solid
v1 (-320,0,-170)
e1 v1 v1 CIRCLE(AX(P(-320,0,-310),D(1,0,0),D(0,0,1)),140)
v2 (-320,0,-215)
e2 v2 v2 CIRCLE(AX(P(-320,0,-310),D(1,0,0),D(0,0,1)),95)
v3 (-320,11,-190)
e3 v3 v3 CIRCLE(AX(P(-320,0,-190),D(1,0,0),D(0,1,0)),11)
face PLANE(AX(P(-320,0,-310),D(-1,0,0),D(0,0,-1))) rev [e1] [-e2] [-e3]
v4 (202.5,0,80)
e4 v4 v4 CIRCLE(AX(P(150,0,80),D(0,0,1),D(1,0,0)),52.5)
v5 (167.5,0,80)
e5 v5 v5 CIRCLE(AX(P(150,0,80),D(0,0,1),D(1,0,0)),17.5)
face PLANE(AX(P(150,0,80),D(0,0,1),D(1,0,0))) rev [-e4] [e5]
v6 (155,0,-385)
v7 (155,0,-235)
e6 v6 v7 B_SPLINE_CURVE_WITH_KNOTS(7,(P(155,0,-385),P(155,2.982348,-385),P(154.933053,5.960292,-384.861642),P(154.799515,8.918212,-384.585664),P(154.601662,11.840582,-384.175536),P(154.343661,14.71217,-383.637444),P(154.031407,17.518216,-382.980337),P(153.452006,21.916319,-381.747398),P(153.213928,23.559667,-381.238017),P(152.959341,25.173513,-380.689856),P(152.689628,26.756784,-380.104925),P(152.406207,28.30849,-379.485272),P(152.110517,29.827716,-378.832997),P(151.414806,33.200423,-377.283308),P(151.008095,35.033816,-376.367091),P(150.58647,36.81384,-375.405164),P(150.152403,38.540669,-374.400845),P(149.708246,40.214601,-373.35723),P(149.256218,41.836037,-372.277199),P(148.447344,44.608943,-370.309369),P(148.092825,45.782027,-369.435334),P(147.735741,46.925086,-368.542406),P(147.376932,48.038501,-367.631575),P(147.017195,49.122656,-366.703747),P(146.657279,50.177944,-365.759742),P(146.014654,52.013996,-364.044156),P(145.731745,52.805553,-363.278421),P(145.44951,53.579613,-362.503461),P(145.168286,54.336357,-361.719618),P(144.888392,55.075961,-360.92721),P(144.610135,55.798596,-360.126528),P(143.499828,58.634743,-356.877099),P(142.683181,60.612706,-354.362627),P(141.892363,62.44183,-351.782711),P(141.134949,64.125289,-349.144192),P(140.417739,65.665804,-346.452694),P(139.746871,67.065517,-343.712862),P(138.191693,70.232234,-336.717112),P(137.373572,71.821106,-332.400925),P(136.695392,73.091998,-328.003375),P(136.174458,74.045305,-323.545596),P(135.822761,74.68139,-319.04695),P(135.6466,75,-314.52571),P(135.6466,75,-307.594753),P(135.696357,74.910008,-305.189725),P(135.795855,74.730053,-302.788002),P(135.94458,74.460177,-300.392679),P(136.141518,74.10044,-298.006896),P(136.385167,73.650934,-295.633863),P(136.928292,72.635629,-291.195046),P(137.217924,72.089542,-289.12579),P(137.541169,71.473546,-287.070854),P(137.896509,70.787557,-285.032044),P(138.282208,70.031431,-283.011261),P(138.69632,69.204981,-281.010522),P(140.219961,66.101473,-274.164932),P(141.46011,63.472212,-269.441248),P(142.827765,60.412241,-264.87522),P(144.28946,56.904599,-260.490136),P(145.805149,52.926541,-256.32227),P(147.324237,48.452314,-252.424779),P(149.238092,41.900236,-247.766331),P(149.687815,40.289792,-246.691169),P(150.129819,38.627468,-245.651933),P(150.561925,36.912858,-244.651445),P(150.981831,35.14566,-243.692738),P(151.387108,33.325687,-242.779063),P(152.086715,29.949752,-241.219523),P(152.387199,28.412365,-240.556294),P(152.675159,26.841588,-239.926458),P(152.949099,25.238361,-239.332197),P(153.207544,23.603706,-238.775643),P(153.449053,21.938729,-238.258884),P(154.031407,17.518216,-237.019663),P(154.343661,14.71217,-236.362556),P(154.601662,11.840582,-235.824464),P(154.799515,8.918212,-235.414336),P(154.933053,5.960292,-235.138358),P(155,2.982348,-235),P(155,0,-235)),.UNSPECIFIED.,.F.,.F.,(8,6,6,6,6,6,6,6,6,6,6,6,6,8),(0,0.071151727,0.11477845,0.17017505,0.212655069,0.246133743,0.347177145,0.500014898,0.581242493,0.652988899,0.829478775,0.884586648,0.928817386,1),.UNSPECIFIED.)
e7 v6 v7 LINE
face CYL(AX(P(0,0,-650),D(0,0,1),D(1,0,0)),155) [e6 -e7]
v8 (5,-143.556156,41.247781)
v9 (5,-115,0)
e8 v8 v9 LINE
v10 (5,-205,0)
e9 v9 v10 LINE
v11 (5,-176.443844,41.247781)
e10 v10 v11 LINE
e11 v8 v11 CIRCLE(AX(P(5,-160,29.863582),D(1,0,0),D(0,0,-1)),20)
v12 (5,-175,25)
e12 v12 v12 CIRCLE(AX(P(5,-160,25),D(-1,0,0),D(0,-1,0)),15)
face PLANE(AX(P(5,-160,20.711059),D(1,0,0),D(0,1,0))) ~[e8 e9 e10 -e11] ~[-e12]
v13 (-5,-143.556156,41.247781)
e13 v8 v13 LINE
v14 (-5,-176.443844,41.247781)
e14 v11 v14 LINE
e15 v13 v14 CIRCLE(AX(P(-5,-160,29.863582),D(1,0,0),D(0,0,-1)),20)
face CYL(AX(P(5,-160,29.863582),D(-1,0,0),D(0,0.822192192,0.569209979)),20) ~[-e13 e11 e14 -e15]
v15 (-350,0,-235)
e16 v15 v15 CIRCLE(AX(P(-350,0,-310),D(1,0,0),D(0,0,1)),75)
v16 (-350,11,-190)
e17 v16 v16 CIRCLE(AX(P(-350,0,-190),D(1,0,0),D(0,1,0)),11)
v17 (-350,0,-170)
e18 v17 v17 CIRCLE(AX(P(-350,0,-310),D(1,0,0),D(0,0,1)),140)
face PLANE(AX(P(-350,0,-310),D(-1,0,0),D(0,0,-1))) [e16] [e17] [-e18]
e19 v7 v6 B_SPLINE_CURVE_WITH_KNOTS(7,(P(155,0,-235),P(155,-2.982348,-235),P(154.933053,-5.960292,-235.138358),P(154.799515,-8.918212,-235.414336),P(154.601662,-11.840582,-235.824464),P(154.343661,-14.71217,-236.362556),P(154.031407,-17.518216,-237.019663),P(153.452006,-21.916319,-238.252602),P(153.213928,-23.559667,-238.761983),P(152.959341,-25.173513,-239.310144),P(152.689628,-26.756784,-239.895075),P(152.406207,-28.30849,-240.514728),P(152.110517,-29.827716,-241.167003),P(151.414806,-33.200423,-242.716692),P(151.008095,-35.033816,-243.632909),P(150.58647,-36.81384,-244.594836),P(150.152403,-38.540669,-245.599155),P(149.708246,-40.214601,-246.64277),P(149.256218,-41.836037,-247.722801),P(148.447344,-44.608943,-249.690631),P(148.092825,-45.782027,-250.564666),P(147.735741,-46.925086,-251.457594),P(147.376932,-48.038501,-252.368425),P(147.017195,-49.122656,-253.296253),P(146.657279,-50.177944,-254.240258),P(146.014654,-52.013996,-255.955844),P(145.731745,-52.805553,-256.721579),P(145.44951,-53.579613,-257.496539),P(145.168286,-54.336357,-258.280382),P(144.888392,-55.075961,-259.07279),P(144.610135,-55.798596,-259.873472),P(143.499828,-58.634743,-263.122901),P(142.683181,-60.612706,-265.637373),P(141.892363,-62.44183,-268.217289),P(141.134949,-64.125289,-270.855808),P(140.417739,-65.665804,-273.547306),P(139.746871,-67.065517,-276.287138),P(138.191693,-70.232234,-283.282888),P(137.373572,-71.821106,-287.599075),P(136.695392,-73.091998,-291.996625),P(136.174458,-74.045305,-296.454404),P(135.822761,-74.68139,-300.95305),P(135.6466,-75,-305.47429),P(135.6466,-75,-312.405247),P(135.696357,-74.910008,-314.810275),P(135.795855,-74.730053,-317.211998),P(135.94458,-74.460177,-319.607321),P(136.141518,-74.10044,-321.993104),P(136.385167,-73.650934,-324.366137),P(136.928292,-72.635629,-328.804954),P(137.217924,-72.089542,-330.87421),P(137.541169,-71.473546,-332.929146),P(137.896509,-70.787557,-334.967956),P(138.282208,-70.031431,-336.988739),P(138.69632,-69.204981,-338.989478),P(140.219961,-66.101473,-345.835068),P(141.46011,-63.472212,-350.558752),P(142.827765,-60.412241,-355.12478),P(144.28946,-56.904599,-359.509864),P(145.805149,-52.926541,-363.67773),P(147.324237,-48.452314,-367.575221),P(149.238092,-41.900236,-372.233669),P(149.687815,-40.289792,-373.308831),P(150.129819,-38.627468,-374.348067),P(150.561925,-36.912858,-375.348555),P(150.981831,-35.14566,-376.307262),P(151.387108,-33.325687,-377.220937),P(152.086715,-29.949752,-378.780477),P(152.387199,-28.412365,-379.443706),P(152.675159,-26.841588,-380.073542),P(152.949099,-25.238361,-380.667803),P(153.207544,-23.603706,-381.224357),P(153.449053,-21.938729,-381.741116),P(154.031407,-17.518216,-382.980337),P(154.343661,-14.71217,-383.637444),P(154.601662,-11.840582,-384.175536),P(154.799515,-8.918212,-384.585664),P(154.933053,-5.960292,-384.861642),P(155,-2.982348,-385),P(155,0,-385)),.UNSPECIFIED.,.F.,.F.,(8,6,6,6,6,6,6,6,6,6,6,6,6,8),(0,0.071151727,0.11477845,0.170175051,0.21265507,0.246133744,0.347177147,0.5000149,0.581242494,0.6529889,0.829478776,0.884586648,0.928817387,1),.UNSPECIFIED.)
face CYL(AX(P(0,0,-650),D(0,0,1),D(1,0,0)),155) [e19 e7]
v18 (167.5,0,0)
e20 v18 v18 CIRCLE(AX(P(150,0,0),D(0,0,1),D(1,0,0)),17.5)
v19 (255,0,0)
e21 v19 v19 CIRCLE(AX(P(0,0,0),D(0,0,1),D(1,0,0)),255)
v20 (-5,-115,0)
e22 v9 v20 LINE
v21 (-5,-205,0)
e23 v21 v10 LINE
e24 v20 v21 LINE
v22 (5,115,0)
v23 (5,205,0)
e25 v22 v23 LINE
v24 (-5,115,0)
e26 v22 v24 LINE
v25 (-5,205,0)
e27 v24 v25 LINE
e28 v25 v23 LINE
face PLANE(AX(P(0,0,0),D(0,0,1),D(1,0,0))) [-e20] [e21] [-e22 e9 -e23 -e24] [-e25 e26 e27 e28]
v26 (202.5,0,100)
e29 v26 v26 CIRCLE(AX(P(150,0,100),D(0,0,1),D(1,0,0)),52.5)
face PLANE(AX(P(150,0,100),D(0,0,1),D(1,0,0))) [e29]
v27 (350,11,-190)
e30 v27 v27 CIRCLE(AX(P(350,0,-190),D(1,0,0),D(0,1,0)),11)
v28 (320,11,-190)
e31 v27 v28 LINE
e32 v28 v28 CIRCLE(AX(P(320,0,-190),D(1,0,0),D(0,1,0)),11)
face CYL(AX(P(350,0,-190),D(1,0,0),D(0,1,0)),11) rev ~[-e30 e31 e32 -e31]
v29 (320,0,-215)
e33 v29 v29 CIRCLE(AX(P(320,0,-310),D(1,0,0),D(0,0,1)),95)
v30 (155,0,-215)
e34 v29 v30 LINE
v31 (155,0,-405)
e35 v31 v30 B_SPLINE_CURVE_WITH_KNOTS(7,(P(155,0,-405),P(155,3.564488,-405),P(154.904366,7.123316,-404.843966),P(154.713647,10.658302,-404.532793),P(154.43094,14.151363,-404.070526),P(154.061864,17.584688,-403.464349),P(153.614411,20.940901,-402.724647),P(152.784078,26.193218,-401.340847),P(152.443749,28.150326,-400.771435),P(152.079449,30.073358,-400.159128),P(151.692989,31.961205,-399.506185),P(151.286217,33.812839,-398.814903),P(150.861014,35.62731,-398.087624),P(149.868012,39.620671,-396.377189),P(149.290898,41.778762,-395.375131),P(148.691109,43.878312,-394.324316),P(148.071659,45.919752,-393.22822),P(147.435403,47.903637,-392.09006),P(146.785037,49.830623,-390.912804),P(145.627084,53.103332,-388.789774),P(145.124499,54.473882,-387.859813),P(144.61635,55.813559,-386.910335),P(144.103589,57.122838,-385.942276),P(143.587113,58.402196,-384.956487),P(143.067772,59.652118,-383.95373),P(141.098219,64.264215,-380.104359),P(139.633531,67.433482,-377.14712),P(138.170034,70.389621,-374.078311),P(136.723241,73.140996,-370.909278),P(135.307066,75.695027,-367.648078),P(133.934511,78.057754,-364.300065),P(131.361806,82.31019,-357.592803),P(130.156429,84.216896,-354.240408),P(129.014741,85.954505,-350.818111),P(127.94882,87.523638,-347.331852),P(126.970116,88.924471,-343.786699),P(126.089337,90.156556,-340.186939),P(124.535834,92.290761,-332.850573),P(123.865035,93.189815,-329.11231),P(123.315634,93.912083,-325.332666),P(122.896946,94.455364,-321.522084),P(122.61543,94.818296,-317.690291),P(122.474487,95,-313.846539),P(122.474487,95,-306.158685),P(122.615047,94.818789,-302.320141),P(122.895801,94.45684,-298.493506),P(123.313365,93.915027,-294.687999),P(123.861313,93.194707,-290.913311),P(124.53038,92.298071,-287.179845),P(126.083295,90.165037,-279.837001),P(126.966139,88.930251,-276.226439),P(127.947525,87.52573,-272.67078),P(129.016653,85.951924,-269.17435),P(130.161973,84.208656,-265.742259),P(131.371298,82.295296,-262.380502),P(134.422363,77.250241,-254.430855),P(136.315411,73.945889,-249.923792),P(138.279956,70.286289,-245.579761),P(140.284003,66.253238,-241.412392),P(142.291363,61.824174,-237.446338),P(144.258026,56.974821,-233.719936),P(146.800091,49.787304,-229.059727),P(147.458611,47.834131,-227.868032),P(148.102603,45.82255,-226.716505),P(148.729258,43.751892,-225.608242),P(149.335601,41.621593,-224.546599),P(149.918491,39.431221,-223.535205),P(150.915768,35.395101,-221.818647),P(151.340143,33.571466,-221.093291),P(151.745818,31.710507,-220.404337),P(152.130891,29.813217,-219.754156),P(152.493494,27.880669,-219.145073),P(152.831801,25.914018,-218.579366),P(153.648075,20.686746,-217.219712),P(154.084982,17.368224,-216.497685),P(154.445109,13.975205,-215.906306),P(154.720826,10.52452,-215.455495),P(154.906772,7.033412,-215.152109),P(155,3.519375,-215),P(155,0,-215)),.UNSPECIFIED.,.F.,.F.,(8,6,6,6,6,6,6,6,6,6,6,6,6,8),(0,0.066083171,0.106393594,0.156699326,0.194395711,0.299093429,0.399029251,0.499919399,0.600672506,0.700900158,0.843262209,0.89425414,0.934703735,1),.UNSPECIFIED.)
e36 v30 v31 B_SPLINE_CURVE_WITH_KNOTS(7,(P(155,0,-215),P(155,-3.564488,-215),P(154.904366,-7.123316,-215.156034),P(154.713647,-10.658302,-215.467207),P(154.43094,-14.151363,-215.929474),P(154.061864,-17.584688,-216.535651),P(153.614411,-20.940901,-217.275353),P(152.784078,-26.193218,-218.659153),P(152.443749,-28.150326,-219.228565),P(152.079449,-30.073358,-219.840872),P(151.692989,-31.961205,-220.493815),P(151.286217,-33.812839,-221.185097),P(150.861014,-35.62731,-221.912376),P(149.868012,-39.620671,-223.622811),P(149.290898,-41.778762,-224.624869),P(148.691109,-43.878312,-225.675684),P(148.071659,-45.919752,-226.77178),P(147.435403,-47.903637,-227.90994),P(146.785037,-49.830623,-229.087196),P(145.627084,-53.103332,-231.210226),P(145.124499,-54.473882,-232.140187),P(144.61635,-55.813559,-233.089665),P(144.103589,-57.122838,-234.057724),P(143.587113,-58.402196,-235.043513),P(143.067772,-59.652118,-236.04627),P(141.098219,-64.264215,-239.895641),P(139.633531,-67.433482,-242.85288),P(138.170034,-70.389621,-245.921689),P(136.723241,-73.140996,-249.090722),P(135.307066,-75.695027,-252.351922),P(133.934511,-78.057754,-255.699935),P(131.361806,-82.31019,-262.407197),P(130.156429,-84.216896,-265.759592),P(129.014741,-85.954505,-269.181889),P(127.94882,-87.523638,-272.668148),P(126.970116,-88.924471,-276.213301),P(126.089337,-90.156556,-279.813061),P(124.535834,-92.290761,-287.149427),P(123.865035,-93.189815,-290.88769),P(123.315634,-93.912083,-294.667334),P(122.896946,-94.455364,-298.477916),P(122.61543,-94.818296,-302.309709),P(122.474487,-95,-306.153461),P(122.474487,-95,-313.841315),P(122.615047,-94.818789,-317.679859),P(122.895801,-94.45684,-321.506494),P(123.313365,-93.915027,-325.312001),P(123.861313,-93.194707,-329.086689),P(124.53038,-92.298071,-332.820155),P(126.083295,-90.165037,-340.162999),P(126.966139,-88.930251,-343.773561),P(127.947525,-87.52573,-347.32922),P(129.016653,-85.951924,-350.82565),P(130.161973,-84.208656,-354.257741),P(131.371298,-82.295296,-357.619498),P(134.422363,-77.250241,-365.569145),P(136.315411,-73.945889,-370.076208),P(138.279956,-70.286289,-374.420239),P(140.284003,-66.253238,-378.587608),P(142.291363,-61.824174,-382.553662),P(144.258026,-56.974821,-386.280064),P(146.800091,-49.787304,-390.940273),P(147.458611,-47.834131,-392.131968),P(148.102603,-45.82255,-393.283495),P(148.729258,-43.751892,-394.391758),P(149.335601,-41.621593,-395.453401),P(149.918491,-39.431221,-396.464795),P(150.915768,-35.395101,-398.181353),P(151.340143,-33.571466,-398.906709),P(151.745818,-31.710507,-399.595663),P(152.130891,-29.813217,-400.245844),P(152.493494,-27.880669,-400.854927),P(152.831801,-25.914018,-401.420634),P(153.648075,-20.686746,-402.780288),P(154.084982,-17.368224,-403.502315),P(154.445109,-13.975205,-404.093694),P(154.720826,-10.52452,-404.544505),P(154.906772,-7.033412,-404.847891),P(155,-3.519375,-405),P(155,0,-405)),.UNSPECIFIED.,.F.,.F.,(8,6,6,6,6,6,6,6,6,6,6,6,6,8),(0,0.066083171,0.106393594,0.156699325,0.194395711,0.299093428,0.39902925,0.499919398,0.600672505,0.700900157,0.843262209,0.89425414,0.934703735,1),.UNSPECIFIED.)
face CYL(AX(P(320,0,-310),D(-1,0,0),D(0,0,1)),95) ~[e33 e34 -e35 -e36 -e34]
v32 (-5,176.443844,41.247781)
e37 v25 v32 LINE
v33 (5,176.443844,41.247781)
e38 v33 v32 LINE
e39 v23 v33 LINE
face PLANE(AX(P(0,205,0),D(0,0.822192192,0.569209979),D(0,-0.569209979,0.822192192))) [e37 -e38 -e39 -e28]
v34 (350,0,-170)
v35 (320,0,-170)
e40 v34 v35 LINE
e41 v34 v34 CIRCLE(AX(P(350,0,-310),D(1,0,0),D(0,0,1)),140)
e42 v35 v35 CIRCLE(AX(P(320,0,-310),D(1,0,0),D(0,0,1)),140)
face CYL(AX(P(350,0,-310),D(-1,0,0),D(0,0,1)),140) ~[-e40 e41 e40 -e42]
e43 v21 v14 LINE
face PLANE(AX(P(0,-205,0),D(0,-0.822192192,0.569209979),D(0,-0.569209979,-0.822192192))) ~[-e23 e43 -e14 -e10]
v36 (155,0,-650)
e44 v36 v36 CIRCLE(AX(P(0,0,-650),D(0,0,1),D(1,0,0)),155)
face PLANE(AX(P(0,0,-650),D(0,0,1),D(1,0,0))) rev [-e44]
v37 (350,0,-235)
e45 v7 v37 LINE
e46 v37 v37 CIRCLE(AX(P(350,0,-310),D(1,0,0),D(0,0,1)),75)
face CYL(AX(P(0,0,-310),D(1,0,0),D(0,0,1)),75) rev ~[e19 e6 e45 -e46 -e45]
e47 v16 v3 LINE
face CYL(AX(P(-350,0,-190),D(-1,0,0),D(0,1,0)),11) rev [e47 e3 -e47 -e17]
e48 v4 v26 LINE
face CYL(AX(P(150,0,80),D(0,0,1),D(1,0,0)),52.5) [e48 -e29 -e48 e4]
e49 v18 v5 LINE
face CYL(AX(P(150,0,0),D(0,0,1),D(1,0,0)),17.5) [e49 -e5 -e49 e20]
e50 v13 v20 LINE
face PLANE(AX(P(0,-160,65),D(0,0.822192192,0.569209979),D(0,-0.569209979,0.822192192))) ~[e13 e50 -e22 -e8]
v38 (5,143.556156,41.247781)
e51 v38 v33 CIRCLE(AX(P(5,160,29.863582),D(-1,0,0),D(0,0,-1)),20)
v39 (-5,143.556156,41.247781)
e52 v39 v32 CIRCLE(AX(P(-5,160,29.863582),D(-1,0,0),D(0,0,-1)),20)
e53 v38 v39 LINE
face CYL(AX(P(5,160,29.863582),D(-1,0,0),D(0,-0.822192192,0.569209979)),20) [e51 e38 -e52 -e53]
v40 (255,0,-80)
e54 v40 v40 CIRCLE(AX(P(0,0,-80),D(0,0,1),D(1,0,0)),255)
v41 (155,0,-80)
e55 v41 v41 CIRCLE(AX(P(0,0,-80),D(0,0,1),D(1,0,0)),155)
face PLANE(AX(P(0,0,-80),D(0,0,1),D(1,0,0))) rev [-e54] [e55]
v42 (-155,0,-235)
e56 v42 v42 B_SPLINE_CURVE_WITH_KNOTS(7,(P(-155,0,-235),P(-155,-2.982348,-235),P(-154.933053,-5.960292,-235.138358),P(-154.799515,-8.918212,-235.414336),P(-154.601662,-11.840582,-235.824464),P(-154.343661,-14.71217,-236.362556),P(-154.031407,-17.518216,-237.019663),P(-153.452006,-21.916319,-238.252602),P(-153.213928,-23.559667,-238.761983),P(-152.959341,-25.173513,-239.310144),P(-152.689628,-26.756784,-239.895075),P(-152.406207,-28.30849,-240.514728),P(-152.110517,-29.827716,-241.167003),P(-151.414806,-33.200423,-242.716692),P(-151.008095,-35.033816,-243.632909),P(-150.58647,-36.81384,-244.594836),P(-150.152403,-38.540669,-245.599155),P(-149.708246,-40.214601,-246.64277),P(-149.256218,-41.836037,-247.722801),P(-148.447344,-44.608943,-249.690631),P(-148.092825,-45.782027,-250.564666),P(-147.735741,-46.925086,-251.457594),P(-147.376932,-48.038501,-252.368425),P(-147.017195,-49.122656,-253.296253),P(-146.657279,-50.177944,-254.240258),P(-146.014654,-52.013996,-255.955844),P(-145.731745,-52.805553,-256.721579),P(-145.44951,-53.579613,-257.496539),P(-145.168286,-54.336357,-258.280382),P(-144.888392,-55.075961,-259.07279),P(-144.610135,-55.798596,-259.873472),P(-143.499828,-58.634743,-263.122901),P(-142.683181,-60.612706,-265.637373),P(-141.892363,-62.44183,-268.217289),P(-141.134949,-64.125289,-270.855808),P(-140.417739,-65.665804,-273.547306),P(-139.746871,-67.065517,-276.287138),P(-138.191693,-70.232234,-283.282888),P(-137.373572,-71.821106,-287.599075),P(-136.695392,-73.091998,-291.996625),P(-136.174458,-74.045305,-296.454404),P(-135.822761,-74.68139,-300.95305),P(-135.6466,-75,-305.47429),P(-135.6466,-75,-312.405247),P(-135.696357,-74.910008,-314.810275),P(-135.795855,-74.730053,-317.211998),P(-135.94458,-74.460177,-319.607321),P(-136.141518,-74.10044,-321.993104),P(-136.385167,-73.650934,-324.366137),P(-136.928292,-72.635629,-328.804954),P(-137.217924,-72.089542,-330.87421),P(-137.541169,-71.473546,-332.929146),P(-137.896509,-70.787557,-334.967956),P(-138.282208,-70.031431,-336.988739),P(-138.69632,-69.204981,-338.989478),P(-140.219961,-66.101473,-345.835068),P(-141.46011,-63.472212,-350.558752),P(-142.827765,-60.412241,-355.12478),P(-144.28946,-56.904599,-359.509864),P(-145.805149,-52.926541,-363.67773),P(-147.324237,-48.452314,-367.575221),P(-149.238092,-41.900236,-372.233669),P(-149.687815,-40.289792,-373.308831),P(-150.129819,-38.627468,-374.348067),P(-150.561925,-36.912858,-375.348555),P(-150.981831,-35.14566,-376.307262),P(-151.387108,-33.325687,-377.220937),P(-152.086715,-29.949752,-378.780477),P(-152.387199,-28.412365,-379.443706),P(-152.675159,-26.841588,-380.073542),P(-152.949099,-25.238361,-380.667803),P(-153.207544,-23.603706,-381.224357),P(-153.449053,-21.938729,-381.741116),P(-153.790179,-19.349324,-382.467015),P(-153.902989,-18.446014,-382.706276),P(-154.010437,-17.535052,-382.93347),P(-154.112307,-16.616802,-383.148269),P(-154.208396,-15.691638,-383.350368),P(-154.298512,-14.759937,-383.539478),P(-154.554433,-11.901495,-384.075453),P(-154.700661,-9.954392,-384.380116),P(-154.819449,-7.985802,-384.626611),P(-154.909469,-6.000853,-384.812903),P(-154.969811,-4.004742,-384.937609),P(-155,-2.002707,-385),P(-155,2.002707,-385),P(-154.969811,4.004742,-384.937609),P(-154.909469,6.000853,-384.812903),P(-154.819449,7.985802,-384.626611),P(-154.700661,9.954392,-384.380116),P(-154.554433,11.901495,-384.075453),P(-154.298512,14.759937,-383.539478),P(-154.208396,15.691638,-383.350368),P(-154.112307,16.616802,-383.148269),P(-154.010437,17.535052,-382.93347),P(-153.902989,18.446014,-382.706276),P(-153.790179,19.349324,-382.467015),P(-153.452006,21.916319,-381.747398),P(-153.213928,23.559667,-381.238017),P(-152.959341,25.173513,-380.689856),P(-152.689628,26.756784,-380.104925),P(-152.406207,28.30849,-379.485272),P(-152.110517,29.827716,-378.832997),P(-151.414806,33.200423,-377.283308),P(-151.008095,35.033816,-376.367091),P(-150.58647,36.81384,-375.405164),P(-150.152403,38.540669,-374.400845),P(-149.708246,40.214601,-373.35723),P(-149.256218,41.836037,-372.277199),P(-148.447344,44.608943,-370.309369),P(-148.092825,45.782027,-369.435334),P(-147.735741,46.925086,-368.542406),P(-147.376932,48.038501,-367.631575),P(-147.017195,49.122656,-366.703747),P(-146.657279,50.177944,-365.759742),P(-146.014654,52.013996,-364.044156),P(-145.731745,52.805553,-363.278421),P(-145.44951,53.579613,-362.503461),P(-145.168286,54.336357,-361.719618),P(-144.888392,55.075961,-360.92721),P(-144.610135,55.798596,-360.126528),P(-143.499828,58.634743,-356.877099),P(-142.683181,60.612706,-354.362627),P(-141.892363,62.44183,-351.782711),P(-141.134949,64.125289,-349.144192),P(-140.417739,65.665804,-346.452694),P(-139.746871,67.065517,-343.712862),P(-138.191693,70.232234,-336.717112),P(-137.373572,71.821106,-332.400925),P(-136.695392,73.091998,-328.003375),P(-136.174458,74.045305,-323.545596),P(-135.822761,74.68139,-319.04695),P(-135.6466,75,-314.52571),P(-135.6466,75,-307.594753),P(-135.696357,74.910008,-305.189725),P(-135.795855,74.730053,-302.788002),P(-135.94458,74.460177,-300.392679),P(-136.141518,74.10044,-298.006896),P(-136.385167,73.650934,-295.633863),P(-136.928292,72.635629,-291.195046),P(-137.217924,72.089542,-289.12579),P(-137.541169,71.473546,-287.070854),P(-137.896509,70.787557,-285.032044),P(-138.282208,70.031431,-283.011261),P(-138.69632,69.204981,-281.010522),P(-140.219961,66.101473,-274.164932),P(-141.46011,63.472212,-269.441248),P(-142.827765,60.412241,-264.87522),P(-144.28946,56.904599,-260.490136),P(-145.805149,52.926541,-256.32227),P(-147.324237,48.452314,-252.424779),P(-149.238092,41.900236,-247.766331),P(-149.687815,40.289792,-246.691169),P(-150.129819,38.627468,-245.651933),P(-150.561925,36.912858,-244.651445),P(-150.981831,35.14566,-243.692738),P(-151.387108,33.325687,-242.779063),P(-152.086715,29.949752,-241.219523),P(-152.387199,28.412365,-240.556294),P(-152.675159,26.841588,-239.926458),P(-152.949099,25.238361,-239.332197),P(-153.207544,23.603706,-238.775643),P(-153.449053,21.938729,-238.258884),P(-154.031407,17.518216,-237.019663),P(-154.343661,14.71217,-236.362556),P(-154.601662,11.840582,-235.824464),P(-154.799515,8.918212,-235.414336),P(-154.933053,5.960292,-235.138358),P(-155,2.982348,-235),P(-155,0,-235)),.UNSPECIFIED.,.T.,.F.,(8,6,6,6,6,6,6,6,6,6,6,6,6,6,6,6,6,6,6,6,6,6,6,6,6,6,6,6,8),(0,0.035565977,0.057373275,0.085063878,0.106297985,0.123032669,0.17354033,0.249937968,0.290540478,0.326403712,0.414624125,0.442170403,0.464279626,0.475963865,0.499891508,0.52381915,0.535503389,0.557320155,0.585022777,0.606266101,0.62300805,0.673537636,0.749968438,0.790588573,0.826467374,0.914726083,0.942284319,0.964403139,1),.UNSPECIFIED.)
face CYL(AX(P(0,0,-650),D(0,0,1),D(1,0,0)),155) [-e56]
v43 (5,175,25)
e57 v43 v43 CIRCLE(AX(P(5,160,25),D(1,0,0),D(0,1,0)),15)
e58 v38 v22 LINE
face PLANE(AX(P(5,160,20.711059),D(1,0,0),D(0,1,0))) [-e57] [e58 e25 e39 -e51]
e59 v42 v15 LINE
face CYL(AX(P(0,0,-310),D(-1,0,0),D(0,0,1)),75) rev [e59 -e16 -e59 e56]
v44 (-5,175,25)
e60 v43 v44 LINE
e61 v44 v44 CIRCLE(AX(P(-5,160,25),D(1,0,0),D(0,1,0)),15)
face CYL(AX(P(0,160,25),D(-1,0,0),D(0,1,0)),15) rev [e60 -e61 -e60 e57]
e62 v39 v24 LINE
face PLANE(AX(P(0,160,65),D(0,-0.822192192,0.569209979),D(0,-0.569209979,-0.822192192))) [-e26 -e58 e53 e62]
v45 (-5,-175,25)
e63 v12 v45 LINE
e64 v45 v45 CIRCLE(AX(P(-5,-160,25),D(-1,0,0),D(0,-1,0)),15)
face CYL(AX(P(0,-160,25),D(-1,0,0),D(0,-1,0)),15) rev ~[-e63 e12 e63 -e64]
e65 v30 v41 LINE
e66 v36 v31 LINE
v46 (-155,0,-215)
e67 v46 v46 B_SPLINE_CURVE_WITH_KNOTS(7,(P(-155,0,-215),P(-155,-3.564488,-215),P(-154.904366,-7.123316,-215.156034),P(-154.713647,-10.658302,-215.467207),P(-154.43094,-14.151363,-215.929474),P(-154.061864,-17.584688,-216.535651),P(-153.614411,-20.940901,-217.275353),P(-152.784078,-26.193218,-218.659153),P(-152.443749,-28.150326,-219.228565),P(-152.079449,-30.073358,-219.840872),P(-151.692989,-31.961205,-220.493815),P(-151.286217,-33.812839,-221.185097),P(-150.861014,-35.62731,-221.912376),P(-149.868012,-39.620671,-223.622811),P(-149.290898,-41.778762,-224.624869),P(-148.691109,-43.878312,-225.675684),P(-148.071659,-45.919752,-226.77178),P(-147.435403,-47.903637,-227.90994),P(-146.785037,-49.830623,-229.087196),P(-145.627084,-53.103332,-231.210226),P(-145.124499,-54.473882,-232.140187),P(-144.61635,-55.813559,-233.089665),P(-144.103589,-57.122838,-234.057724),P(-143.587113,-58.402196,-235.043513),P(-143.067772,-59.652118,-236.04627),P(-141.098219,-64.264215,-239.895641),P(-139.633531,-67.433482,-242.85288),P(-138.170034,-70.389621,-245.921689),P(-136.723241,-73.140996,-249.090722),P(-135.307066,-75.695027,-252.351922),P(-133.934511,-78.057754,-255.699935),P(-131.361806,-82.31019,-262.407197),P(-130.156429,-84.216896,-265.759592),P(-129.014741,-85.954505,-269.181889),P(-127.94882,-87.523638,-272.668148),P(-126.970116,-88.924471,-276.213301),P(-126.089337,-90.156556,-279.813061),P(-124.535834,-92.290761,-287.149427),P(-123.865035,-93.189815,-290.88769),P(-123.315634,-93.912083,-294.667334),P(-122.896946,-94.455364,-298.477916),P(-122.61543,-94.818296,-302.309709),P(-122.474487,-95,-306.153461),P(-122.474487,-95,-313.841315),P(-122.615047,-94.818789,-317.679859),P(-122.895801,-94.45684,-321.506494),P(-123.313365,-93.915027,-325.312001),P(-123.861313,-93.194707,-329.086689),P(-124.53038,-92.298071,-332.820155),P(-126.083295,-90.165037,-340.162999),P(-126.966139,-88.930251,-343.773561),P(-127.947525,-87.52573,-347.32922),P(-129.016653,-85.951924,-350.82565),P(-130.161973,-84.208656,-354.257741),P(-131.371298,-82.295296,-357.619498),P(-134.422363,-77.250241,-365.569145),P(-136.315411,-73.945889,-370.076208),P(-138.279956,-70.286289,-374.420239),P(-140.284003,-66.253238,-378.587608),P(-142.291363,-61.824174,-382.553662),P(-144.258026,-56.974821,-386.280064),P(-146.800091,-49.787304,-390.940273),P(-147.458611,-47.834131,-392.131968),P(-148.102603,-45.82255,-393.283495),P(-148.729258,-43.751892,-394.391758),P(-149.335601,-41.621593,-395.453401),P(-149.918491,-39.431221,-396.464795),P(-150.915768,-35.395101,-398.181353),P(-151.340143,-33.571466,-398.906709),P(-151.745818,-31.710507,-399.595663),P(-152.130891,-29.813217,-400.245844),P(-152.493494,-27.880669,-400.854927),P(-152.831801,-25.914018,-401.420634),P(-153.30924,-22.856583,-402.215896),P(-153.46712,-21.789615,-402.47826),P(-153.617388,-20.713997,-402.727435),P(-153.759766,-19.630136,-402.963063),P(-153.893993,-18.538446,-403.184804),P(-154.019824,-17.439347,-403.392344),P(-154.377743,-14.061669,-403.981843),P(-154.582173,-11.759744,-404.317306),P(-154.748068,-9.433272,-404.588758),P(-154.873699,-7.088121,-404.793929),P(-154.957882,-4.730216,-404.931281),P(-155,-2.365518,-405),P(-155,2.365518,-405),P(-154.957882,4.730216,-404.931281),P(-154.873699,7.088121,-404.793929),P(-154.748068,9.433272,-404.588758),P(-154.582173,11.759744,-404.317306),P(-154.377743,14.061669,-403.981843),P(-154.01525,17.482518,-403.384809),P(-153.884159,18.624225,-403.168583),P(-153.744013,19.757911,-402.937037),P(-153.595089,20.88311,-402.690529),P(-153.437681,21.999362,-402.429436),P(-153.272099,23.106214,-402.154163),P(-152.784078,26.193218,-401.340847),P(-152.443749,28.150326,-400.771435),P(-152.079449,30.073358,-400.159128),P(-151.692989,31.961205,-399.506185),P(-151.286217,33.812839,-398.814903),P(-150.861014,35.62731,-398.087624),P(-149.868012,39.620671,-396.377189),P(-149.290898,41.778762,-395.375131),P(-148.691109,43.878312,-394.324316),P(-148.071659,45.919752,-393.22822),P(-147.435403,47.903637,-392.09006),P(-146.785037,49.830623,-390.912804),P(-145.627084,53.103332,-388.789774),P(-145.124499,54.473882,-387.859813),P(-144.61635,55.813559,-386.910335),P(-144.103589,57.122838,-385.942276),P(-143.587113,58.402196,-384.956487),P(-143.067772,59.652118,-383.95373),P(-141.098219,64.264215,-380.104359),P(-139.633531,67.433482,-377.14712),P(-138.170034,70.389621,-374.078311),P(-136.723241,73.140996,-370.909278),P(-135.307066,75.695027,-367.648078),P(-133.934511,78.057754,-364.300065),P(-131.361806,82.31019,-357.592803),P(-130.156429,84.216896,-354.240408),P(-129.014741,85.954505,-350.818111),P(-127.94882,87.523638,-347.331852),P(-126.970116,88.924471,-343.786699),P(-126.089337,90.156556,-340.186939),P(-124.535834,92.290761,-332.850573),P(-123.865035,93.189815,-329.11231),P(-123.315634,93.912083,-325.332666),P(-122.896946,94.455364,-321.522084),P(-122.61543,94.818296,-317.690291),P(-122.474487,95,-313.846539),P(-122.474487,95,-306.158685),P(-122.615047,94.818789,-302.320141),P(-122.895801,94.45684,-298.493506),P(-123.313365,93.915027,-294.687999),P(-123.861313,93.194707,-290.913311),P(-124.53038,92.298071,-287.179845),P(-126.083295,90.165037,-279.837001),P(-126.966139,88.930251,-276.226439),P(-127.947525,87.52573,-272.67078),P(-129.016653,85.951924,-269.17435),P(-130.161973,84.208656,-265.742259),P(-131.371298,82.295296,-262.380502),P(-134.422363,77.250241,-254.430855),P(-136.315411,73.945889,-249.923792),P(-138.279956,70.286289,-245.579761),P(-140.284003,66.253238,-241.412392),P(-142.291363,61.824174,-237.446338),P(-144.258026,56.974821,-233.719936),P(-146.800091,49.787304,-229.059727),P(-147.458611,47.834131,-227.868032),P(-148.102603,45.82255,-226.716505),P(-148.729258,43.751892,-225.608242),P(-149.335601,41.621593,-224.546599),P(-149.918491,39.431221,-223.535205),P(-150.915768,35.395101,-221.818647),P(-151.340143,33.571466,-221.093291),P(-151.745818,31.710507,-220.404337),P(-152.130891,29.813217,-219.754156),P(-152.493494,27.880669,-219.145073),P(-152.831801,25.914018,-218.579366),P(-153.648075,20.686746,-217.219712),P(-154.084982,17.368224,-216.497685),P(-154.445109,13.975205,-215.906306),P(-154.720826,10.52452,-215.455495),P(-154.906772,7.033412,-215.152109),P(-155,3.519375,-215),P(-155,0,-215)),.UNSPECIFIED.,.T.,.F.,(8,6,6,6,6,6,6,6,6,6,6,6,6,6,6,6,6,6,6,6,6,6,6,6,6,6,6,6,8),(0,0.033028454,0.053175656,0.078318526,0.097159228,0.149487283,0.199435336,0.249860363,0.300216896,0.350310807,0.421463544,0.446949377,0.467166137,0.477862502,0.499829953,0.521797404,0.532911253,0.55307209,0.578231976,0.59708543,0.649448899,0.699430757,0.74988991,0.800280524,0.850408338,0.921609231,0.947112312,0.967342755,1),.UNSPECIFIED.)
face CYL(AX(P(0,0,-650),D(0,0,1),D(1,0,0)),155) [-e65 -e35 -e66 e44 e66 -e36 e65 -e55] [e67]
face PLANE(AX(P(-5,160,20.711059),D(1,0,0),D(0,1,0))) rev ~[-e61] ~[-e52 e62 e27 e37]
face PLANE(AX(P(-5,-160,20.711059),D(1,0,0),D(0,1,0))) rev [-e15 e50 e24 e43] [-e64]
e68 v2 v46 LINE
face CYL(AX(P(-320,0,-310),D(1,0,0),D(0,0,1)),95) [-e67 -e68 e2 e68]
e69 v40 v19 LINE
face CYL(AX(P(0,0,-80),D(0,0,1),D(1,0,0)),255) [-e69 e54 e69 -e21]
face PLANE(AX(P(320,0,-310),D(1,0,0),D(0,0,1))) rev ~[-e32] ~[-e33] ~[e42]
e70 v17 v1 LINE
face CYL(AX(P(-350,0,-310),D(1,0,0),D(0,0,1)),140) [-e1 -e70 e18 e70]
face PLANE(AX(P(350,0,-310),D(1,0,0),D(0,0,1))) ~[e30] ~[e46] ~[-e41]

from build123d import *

# Parameters (mm, degrees)
F3_R      = 15
F4_DEPTH  = 5
F5_R      = 20
F9_R      = 11
F10_DEPTH = 30


with BuildPart() as f2:
    # F1 (on Front) → F2 (revolve)
    with BuildSketch(Plane.XZ):
        Polygon((150, 100), (150, 0), (167.5, 0), (167.5, 80), (202.5, 80), (202.5, 100), align=None)
    revolve(axis=Axis((150, 0, 50), (0, 0, 1)))



with BuildPart() as f4:
    # F3 (on Right) → F4 (new body, symmetric)
    with BuildSketch(Plane.YZ):
        Polygon((115, 0), (205, 0), (160, 65), align=None)
        with Locations((160, 25)):
            Circle(F3_R, mode=Mode.SUBTRACT)
    extrude(amount=F4_DEPTH, both=True)

    # F5
    f5_edges = [f4.edges().sort_by_distance(p)[0] for p in [
        (0, 160, 65),
    ]]
    fillet(f5_edges, radius=F5_R)


with BuildPart() as f6_1:
    # F6: instance of F4
    add(f4.part.mirror(Plane.XZ))


with BuildPart() as f8:
    # F7 (on Front) → F8 (revolve)
    with BuildSketch(Plane.XZ):
        Polygon((0, -235), (350, -235), (350, -170), (320, -170), (320, -215), (0, -215), align=None)
    revolve(axis=Axis((246.6098368168, 0, -310), (1, 0, 0)))

    # F9 (on face) → F10 (cut, through all)
    with BuildSketch(Plane.YZ.offset(350)):
        with Locations((0, -190)):
            Circle(F9_R)
    extrude(amount=-F10_DEPTH, mode=Mode.SUBTRACT)

    # F11: F8 across plane


with BuildPart() as f8_1:
    add(f8.part)
    add(f8.part.mirror(Plane.YZ))


with BuildPart() as f2_1:
    add(f2.part)

    add(f4.part)  # F12 merges F4

    add(f6_1.part)  # F12 merges F6_1

    add(f8_1.part)  # F12 merges F8
    # F0 (on Front) → F12 (revolve)
    with BuildSketch(Plane.XZ):
        Polygon((255, 0), (0, 0), (0, -650), (155, -650), (155, -80), (255, -80), align=None)
    revolve(axis=Axis((0, 0, 290.8246964216), (0, 0, 1)))


solid = f2_1.part
